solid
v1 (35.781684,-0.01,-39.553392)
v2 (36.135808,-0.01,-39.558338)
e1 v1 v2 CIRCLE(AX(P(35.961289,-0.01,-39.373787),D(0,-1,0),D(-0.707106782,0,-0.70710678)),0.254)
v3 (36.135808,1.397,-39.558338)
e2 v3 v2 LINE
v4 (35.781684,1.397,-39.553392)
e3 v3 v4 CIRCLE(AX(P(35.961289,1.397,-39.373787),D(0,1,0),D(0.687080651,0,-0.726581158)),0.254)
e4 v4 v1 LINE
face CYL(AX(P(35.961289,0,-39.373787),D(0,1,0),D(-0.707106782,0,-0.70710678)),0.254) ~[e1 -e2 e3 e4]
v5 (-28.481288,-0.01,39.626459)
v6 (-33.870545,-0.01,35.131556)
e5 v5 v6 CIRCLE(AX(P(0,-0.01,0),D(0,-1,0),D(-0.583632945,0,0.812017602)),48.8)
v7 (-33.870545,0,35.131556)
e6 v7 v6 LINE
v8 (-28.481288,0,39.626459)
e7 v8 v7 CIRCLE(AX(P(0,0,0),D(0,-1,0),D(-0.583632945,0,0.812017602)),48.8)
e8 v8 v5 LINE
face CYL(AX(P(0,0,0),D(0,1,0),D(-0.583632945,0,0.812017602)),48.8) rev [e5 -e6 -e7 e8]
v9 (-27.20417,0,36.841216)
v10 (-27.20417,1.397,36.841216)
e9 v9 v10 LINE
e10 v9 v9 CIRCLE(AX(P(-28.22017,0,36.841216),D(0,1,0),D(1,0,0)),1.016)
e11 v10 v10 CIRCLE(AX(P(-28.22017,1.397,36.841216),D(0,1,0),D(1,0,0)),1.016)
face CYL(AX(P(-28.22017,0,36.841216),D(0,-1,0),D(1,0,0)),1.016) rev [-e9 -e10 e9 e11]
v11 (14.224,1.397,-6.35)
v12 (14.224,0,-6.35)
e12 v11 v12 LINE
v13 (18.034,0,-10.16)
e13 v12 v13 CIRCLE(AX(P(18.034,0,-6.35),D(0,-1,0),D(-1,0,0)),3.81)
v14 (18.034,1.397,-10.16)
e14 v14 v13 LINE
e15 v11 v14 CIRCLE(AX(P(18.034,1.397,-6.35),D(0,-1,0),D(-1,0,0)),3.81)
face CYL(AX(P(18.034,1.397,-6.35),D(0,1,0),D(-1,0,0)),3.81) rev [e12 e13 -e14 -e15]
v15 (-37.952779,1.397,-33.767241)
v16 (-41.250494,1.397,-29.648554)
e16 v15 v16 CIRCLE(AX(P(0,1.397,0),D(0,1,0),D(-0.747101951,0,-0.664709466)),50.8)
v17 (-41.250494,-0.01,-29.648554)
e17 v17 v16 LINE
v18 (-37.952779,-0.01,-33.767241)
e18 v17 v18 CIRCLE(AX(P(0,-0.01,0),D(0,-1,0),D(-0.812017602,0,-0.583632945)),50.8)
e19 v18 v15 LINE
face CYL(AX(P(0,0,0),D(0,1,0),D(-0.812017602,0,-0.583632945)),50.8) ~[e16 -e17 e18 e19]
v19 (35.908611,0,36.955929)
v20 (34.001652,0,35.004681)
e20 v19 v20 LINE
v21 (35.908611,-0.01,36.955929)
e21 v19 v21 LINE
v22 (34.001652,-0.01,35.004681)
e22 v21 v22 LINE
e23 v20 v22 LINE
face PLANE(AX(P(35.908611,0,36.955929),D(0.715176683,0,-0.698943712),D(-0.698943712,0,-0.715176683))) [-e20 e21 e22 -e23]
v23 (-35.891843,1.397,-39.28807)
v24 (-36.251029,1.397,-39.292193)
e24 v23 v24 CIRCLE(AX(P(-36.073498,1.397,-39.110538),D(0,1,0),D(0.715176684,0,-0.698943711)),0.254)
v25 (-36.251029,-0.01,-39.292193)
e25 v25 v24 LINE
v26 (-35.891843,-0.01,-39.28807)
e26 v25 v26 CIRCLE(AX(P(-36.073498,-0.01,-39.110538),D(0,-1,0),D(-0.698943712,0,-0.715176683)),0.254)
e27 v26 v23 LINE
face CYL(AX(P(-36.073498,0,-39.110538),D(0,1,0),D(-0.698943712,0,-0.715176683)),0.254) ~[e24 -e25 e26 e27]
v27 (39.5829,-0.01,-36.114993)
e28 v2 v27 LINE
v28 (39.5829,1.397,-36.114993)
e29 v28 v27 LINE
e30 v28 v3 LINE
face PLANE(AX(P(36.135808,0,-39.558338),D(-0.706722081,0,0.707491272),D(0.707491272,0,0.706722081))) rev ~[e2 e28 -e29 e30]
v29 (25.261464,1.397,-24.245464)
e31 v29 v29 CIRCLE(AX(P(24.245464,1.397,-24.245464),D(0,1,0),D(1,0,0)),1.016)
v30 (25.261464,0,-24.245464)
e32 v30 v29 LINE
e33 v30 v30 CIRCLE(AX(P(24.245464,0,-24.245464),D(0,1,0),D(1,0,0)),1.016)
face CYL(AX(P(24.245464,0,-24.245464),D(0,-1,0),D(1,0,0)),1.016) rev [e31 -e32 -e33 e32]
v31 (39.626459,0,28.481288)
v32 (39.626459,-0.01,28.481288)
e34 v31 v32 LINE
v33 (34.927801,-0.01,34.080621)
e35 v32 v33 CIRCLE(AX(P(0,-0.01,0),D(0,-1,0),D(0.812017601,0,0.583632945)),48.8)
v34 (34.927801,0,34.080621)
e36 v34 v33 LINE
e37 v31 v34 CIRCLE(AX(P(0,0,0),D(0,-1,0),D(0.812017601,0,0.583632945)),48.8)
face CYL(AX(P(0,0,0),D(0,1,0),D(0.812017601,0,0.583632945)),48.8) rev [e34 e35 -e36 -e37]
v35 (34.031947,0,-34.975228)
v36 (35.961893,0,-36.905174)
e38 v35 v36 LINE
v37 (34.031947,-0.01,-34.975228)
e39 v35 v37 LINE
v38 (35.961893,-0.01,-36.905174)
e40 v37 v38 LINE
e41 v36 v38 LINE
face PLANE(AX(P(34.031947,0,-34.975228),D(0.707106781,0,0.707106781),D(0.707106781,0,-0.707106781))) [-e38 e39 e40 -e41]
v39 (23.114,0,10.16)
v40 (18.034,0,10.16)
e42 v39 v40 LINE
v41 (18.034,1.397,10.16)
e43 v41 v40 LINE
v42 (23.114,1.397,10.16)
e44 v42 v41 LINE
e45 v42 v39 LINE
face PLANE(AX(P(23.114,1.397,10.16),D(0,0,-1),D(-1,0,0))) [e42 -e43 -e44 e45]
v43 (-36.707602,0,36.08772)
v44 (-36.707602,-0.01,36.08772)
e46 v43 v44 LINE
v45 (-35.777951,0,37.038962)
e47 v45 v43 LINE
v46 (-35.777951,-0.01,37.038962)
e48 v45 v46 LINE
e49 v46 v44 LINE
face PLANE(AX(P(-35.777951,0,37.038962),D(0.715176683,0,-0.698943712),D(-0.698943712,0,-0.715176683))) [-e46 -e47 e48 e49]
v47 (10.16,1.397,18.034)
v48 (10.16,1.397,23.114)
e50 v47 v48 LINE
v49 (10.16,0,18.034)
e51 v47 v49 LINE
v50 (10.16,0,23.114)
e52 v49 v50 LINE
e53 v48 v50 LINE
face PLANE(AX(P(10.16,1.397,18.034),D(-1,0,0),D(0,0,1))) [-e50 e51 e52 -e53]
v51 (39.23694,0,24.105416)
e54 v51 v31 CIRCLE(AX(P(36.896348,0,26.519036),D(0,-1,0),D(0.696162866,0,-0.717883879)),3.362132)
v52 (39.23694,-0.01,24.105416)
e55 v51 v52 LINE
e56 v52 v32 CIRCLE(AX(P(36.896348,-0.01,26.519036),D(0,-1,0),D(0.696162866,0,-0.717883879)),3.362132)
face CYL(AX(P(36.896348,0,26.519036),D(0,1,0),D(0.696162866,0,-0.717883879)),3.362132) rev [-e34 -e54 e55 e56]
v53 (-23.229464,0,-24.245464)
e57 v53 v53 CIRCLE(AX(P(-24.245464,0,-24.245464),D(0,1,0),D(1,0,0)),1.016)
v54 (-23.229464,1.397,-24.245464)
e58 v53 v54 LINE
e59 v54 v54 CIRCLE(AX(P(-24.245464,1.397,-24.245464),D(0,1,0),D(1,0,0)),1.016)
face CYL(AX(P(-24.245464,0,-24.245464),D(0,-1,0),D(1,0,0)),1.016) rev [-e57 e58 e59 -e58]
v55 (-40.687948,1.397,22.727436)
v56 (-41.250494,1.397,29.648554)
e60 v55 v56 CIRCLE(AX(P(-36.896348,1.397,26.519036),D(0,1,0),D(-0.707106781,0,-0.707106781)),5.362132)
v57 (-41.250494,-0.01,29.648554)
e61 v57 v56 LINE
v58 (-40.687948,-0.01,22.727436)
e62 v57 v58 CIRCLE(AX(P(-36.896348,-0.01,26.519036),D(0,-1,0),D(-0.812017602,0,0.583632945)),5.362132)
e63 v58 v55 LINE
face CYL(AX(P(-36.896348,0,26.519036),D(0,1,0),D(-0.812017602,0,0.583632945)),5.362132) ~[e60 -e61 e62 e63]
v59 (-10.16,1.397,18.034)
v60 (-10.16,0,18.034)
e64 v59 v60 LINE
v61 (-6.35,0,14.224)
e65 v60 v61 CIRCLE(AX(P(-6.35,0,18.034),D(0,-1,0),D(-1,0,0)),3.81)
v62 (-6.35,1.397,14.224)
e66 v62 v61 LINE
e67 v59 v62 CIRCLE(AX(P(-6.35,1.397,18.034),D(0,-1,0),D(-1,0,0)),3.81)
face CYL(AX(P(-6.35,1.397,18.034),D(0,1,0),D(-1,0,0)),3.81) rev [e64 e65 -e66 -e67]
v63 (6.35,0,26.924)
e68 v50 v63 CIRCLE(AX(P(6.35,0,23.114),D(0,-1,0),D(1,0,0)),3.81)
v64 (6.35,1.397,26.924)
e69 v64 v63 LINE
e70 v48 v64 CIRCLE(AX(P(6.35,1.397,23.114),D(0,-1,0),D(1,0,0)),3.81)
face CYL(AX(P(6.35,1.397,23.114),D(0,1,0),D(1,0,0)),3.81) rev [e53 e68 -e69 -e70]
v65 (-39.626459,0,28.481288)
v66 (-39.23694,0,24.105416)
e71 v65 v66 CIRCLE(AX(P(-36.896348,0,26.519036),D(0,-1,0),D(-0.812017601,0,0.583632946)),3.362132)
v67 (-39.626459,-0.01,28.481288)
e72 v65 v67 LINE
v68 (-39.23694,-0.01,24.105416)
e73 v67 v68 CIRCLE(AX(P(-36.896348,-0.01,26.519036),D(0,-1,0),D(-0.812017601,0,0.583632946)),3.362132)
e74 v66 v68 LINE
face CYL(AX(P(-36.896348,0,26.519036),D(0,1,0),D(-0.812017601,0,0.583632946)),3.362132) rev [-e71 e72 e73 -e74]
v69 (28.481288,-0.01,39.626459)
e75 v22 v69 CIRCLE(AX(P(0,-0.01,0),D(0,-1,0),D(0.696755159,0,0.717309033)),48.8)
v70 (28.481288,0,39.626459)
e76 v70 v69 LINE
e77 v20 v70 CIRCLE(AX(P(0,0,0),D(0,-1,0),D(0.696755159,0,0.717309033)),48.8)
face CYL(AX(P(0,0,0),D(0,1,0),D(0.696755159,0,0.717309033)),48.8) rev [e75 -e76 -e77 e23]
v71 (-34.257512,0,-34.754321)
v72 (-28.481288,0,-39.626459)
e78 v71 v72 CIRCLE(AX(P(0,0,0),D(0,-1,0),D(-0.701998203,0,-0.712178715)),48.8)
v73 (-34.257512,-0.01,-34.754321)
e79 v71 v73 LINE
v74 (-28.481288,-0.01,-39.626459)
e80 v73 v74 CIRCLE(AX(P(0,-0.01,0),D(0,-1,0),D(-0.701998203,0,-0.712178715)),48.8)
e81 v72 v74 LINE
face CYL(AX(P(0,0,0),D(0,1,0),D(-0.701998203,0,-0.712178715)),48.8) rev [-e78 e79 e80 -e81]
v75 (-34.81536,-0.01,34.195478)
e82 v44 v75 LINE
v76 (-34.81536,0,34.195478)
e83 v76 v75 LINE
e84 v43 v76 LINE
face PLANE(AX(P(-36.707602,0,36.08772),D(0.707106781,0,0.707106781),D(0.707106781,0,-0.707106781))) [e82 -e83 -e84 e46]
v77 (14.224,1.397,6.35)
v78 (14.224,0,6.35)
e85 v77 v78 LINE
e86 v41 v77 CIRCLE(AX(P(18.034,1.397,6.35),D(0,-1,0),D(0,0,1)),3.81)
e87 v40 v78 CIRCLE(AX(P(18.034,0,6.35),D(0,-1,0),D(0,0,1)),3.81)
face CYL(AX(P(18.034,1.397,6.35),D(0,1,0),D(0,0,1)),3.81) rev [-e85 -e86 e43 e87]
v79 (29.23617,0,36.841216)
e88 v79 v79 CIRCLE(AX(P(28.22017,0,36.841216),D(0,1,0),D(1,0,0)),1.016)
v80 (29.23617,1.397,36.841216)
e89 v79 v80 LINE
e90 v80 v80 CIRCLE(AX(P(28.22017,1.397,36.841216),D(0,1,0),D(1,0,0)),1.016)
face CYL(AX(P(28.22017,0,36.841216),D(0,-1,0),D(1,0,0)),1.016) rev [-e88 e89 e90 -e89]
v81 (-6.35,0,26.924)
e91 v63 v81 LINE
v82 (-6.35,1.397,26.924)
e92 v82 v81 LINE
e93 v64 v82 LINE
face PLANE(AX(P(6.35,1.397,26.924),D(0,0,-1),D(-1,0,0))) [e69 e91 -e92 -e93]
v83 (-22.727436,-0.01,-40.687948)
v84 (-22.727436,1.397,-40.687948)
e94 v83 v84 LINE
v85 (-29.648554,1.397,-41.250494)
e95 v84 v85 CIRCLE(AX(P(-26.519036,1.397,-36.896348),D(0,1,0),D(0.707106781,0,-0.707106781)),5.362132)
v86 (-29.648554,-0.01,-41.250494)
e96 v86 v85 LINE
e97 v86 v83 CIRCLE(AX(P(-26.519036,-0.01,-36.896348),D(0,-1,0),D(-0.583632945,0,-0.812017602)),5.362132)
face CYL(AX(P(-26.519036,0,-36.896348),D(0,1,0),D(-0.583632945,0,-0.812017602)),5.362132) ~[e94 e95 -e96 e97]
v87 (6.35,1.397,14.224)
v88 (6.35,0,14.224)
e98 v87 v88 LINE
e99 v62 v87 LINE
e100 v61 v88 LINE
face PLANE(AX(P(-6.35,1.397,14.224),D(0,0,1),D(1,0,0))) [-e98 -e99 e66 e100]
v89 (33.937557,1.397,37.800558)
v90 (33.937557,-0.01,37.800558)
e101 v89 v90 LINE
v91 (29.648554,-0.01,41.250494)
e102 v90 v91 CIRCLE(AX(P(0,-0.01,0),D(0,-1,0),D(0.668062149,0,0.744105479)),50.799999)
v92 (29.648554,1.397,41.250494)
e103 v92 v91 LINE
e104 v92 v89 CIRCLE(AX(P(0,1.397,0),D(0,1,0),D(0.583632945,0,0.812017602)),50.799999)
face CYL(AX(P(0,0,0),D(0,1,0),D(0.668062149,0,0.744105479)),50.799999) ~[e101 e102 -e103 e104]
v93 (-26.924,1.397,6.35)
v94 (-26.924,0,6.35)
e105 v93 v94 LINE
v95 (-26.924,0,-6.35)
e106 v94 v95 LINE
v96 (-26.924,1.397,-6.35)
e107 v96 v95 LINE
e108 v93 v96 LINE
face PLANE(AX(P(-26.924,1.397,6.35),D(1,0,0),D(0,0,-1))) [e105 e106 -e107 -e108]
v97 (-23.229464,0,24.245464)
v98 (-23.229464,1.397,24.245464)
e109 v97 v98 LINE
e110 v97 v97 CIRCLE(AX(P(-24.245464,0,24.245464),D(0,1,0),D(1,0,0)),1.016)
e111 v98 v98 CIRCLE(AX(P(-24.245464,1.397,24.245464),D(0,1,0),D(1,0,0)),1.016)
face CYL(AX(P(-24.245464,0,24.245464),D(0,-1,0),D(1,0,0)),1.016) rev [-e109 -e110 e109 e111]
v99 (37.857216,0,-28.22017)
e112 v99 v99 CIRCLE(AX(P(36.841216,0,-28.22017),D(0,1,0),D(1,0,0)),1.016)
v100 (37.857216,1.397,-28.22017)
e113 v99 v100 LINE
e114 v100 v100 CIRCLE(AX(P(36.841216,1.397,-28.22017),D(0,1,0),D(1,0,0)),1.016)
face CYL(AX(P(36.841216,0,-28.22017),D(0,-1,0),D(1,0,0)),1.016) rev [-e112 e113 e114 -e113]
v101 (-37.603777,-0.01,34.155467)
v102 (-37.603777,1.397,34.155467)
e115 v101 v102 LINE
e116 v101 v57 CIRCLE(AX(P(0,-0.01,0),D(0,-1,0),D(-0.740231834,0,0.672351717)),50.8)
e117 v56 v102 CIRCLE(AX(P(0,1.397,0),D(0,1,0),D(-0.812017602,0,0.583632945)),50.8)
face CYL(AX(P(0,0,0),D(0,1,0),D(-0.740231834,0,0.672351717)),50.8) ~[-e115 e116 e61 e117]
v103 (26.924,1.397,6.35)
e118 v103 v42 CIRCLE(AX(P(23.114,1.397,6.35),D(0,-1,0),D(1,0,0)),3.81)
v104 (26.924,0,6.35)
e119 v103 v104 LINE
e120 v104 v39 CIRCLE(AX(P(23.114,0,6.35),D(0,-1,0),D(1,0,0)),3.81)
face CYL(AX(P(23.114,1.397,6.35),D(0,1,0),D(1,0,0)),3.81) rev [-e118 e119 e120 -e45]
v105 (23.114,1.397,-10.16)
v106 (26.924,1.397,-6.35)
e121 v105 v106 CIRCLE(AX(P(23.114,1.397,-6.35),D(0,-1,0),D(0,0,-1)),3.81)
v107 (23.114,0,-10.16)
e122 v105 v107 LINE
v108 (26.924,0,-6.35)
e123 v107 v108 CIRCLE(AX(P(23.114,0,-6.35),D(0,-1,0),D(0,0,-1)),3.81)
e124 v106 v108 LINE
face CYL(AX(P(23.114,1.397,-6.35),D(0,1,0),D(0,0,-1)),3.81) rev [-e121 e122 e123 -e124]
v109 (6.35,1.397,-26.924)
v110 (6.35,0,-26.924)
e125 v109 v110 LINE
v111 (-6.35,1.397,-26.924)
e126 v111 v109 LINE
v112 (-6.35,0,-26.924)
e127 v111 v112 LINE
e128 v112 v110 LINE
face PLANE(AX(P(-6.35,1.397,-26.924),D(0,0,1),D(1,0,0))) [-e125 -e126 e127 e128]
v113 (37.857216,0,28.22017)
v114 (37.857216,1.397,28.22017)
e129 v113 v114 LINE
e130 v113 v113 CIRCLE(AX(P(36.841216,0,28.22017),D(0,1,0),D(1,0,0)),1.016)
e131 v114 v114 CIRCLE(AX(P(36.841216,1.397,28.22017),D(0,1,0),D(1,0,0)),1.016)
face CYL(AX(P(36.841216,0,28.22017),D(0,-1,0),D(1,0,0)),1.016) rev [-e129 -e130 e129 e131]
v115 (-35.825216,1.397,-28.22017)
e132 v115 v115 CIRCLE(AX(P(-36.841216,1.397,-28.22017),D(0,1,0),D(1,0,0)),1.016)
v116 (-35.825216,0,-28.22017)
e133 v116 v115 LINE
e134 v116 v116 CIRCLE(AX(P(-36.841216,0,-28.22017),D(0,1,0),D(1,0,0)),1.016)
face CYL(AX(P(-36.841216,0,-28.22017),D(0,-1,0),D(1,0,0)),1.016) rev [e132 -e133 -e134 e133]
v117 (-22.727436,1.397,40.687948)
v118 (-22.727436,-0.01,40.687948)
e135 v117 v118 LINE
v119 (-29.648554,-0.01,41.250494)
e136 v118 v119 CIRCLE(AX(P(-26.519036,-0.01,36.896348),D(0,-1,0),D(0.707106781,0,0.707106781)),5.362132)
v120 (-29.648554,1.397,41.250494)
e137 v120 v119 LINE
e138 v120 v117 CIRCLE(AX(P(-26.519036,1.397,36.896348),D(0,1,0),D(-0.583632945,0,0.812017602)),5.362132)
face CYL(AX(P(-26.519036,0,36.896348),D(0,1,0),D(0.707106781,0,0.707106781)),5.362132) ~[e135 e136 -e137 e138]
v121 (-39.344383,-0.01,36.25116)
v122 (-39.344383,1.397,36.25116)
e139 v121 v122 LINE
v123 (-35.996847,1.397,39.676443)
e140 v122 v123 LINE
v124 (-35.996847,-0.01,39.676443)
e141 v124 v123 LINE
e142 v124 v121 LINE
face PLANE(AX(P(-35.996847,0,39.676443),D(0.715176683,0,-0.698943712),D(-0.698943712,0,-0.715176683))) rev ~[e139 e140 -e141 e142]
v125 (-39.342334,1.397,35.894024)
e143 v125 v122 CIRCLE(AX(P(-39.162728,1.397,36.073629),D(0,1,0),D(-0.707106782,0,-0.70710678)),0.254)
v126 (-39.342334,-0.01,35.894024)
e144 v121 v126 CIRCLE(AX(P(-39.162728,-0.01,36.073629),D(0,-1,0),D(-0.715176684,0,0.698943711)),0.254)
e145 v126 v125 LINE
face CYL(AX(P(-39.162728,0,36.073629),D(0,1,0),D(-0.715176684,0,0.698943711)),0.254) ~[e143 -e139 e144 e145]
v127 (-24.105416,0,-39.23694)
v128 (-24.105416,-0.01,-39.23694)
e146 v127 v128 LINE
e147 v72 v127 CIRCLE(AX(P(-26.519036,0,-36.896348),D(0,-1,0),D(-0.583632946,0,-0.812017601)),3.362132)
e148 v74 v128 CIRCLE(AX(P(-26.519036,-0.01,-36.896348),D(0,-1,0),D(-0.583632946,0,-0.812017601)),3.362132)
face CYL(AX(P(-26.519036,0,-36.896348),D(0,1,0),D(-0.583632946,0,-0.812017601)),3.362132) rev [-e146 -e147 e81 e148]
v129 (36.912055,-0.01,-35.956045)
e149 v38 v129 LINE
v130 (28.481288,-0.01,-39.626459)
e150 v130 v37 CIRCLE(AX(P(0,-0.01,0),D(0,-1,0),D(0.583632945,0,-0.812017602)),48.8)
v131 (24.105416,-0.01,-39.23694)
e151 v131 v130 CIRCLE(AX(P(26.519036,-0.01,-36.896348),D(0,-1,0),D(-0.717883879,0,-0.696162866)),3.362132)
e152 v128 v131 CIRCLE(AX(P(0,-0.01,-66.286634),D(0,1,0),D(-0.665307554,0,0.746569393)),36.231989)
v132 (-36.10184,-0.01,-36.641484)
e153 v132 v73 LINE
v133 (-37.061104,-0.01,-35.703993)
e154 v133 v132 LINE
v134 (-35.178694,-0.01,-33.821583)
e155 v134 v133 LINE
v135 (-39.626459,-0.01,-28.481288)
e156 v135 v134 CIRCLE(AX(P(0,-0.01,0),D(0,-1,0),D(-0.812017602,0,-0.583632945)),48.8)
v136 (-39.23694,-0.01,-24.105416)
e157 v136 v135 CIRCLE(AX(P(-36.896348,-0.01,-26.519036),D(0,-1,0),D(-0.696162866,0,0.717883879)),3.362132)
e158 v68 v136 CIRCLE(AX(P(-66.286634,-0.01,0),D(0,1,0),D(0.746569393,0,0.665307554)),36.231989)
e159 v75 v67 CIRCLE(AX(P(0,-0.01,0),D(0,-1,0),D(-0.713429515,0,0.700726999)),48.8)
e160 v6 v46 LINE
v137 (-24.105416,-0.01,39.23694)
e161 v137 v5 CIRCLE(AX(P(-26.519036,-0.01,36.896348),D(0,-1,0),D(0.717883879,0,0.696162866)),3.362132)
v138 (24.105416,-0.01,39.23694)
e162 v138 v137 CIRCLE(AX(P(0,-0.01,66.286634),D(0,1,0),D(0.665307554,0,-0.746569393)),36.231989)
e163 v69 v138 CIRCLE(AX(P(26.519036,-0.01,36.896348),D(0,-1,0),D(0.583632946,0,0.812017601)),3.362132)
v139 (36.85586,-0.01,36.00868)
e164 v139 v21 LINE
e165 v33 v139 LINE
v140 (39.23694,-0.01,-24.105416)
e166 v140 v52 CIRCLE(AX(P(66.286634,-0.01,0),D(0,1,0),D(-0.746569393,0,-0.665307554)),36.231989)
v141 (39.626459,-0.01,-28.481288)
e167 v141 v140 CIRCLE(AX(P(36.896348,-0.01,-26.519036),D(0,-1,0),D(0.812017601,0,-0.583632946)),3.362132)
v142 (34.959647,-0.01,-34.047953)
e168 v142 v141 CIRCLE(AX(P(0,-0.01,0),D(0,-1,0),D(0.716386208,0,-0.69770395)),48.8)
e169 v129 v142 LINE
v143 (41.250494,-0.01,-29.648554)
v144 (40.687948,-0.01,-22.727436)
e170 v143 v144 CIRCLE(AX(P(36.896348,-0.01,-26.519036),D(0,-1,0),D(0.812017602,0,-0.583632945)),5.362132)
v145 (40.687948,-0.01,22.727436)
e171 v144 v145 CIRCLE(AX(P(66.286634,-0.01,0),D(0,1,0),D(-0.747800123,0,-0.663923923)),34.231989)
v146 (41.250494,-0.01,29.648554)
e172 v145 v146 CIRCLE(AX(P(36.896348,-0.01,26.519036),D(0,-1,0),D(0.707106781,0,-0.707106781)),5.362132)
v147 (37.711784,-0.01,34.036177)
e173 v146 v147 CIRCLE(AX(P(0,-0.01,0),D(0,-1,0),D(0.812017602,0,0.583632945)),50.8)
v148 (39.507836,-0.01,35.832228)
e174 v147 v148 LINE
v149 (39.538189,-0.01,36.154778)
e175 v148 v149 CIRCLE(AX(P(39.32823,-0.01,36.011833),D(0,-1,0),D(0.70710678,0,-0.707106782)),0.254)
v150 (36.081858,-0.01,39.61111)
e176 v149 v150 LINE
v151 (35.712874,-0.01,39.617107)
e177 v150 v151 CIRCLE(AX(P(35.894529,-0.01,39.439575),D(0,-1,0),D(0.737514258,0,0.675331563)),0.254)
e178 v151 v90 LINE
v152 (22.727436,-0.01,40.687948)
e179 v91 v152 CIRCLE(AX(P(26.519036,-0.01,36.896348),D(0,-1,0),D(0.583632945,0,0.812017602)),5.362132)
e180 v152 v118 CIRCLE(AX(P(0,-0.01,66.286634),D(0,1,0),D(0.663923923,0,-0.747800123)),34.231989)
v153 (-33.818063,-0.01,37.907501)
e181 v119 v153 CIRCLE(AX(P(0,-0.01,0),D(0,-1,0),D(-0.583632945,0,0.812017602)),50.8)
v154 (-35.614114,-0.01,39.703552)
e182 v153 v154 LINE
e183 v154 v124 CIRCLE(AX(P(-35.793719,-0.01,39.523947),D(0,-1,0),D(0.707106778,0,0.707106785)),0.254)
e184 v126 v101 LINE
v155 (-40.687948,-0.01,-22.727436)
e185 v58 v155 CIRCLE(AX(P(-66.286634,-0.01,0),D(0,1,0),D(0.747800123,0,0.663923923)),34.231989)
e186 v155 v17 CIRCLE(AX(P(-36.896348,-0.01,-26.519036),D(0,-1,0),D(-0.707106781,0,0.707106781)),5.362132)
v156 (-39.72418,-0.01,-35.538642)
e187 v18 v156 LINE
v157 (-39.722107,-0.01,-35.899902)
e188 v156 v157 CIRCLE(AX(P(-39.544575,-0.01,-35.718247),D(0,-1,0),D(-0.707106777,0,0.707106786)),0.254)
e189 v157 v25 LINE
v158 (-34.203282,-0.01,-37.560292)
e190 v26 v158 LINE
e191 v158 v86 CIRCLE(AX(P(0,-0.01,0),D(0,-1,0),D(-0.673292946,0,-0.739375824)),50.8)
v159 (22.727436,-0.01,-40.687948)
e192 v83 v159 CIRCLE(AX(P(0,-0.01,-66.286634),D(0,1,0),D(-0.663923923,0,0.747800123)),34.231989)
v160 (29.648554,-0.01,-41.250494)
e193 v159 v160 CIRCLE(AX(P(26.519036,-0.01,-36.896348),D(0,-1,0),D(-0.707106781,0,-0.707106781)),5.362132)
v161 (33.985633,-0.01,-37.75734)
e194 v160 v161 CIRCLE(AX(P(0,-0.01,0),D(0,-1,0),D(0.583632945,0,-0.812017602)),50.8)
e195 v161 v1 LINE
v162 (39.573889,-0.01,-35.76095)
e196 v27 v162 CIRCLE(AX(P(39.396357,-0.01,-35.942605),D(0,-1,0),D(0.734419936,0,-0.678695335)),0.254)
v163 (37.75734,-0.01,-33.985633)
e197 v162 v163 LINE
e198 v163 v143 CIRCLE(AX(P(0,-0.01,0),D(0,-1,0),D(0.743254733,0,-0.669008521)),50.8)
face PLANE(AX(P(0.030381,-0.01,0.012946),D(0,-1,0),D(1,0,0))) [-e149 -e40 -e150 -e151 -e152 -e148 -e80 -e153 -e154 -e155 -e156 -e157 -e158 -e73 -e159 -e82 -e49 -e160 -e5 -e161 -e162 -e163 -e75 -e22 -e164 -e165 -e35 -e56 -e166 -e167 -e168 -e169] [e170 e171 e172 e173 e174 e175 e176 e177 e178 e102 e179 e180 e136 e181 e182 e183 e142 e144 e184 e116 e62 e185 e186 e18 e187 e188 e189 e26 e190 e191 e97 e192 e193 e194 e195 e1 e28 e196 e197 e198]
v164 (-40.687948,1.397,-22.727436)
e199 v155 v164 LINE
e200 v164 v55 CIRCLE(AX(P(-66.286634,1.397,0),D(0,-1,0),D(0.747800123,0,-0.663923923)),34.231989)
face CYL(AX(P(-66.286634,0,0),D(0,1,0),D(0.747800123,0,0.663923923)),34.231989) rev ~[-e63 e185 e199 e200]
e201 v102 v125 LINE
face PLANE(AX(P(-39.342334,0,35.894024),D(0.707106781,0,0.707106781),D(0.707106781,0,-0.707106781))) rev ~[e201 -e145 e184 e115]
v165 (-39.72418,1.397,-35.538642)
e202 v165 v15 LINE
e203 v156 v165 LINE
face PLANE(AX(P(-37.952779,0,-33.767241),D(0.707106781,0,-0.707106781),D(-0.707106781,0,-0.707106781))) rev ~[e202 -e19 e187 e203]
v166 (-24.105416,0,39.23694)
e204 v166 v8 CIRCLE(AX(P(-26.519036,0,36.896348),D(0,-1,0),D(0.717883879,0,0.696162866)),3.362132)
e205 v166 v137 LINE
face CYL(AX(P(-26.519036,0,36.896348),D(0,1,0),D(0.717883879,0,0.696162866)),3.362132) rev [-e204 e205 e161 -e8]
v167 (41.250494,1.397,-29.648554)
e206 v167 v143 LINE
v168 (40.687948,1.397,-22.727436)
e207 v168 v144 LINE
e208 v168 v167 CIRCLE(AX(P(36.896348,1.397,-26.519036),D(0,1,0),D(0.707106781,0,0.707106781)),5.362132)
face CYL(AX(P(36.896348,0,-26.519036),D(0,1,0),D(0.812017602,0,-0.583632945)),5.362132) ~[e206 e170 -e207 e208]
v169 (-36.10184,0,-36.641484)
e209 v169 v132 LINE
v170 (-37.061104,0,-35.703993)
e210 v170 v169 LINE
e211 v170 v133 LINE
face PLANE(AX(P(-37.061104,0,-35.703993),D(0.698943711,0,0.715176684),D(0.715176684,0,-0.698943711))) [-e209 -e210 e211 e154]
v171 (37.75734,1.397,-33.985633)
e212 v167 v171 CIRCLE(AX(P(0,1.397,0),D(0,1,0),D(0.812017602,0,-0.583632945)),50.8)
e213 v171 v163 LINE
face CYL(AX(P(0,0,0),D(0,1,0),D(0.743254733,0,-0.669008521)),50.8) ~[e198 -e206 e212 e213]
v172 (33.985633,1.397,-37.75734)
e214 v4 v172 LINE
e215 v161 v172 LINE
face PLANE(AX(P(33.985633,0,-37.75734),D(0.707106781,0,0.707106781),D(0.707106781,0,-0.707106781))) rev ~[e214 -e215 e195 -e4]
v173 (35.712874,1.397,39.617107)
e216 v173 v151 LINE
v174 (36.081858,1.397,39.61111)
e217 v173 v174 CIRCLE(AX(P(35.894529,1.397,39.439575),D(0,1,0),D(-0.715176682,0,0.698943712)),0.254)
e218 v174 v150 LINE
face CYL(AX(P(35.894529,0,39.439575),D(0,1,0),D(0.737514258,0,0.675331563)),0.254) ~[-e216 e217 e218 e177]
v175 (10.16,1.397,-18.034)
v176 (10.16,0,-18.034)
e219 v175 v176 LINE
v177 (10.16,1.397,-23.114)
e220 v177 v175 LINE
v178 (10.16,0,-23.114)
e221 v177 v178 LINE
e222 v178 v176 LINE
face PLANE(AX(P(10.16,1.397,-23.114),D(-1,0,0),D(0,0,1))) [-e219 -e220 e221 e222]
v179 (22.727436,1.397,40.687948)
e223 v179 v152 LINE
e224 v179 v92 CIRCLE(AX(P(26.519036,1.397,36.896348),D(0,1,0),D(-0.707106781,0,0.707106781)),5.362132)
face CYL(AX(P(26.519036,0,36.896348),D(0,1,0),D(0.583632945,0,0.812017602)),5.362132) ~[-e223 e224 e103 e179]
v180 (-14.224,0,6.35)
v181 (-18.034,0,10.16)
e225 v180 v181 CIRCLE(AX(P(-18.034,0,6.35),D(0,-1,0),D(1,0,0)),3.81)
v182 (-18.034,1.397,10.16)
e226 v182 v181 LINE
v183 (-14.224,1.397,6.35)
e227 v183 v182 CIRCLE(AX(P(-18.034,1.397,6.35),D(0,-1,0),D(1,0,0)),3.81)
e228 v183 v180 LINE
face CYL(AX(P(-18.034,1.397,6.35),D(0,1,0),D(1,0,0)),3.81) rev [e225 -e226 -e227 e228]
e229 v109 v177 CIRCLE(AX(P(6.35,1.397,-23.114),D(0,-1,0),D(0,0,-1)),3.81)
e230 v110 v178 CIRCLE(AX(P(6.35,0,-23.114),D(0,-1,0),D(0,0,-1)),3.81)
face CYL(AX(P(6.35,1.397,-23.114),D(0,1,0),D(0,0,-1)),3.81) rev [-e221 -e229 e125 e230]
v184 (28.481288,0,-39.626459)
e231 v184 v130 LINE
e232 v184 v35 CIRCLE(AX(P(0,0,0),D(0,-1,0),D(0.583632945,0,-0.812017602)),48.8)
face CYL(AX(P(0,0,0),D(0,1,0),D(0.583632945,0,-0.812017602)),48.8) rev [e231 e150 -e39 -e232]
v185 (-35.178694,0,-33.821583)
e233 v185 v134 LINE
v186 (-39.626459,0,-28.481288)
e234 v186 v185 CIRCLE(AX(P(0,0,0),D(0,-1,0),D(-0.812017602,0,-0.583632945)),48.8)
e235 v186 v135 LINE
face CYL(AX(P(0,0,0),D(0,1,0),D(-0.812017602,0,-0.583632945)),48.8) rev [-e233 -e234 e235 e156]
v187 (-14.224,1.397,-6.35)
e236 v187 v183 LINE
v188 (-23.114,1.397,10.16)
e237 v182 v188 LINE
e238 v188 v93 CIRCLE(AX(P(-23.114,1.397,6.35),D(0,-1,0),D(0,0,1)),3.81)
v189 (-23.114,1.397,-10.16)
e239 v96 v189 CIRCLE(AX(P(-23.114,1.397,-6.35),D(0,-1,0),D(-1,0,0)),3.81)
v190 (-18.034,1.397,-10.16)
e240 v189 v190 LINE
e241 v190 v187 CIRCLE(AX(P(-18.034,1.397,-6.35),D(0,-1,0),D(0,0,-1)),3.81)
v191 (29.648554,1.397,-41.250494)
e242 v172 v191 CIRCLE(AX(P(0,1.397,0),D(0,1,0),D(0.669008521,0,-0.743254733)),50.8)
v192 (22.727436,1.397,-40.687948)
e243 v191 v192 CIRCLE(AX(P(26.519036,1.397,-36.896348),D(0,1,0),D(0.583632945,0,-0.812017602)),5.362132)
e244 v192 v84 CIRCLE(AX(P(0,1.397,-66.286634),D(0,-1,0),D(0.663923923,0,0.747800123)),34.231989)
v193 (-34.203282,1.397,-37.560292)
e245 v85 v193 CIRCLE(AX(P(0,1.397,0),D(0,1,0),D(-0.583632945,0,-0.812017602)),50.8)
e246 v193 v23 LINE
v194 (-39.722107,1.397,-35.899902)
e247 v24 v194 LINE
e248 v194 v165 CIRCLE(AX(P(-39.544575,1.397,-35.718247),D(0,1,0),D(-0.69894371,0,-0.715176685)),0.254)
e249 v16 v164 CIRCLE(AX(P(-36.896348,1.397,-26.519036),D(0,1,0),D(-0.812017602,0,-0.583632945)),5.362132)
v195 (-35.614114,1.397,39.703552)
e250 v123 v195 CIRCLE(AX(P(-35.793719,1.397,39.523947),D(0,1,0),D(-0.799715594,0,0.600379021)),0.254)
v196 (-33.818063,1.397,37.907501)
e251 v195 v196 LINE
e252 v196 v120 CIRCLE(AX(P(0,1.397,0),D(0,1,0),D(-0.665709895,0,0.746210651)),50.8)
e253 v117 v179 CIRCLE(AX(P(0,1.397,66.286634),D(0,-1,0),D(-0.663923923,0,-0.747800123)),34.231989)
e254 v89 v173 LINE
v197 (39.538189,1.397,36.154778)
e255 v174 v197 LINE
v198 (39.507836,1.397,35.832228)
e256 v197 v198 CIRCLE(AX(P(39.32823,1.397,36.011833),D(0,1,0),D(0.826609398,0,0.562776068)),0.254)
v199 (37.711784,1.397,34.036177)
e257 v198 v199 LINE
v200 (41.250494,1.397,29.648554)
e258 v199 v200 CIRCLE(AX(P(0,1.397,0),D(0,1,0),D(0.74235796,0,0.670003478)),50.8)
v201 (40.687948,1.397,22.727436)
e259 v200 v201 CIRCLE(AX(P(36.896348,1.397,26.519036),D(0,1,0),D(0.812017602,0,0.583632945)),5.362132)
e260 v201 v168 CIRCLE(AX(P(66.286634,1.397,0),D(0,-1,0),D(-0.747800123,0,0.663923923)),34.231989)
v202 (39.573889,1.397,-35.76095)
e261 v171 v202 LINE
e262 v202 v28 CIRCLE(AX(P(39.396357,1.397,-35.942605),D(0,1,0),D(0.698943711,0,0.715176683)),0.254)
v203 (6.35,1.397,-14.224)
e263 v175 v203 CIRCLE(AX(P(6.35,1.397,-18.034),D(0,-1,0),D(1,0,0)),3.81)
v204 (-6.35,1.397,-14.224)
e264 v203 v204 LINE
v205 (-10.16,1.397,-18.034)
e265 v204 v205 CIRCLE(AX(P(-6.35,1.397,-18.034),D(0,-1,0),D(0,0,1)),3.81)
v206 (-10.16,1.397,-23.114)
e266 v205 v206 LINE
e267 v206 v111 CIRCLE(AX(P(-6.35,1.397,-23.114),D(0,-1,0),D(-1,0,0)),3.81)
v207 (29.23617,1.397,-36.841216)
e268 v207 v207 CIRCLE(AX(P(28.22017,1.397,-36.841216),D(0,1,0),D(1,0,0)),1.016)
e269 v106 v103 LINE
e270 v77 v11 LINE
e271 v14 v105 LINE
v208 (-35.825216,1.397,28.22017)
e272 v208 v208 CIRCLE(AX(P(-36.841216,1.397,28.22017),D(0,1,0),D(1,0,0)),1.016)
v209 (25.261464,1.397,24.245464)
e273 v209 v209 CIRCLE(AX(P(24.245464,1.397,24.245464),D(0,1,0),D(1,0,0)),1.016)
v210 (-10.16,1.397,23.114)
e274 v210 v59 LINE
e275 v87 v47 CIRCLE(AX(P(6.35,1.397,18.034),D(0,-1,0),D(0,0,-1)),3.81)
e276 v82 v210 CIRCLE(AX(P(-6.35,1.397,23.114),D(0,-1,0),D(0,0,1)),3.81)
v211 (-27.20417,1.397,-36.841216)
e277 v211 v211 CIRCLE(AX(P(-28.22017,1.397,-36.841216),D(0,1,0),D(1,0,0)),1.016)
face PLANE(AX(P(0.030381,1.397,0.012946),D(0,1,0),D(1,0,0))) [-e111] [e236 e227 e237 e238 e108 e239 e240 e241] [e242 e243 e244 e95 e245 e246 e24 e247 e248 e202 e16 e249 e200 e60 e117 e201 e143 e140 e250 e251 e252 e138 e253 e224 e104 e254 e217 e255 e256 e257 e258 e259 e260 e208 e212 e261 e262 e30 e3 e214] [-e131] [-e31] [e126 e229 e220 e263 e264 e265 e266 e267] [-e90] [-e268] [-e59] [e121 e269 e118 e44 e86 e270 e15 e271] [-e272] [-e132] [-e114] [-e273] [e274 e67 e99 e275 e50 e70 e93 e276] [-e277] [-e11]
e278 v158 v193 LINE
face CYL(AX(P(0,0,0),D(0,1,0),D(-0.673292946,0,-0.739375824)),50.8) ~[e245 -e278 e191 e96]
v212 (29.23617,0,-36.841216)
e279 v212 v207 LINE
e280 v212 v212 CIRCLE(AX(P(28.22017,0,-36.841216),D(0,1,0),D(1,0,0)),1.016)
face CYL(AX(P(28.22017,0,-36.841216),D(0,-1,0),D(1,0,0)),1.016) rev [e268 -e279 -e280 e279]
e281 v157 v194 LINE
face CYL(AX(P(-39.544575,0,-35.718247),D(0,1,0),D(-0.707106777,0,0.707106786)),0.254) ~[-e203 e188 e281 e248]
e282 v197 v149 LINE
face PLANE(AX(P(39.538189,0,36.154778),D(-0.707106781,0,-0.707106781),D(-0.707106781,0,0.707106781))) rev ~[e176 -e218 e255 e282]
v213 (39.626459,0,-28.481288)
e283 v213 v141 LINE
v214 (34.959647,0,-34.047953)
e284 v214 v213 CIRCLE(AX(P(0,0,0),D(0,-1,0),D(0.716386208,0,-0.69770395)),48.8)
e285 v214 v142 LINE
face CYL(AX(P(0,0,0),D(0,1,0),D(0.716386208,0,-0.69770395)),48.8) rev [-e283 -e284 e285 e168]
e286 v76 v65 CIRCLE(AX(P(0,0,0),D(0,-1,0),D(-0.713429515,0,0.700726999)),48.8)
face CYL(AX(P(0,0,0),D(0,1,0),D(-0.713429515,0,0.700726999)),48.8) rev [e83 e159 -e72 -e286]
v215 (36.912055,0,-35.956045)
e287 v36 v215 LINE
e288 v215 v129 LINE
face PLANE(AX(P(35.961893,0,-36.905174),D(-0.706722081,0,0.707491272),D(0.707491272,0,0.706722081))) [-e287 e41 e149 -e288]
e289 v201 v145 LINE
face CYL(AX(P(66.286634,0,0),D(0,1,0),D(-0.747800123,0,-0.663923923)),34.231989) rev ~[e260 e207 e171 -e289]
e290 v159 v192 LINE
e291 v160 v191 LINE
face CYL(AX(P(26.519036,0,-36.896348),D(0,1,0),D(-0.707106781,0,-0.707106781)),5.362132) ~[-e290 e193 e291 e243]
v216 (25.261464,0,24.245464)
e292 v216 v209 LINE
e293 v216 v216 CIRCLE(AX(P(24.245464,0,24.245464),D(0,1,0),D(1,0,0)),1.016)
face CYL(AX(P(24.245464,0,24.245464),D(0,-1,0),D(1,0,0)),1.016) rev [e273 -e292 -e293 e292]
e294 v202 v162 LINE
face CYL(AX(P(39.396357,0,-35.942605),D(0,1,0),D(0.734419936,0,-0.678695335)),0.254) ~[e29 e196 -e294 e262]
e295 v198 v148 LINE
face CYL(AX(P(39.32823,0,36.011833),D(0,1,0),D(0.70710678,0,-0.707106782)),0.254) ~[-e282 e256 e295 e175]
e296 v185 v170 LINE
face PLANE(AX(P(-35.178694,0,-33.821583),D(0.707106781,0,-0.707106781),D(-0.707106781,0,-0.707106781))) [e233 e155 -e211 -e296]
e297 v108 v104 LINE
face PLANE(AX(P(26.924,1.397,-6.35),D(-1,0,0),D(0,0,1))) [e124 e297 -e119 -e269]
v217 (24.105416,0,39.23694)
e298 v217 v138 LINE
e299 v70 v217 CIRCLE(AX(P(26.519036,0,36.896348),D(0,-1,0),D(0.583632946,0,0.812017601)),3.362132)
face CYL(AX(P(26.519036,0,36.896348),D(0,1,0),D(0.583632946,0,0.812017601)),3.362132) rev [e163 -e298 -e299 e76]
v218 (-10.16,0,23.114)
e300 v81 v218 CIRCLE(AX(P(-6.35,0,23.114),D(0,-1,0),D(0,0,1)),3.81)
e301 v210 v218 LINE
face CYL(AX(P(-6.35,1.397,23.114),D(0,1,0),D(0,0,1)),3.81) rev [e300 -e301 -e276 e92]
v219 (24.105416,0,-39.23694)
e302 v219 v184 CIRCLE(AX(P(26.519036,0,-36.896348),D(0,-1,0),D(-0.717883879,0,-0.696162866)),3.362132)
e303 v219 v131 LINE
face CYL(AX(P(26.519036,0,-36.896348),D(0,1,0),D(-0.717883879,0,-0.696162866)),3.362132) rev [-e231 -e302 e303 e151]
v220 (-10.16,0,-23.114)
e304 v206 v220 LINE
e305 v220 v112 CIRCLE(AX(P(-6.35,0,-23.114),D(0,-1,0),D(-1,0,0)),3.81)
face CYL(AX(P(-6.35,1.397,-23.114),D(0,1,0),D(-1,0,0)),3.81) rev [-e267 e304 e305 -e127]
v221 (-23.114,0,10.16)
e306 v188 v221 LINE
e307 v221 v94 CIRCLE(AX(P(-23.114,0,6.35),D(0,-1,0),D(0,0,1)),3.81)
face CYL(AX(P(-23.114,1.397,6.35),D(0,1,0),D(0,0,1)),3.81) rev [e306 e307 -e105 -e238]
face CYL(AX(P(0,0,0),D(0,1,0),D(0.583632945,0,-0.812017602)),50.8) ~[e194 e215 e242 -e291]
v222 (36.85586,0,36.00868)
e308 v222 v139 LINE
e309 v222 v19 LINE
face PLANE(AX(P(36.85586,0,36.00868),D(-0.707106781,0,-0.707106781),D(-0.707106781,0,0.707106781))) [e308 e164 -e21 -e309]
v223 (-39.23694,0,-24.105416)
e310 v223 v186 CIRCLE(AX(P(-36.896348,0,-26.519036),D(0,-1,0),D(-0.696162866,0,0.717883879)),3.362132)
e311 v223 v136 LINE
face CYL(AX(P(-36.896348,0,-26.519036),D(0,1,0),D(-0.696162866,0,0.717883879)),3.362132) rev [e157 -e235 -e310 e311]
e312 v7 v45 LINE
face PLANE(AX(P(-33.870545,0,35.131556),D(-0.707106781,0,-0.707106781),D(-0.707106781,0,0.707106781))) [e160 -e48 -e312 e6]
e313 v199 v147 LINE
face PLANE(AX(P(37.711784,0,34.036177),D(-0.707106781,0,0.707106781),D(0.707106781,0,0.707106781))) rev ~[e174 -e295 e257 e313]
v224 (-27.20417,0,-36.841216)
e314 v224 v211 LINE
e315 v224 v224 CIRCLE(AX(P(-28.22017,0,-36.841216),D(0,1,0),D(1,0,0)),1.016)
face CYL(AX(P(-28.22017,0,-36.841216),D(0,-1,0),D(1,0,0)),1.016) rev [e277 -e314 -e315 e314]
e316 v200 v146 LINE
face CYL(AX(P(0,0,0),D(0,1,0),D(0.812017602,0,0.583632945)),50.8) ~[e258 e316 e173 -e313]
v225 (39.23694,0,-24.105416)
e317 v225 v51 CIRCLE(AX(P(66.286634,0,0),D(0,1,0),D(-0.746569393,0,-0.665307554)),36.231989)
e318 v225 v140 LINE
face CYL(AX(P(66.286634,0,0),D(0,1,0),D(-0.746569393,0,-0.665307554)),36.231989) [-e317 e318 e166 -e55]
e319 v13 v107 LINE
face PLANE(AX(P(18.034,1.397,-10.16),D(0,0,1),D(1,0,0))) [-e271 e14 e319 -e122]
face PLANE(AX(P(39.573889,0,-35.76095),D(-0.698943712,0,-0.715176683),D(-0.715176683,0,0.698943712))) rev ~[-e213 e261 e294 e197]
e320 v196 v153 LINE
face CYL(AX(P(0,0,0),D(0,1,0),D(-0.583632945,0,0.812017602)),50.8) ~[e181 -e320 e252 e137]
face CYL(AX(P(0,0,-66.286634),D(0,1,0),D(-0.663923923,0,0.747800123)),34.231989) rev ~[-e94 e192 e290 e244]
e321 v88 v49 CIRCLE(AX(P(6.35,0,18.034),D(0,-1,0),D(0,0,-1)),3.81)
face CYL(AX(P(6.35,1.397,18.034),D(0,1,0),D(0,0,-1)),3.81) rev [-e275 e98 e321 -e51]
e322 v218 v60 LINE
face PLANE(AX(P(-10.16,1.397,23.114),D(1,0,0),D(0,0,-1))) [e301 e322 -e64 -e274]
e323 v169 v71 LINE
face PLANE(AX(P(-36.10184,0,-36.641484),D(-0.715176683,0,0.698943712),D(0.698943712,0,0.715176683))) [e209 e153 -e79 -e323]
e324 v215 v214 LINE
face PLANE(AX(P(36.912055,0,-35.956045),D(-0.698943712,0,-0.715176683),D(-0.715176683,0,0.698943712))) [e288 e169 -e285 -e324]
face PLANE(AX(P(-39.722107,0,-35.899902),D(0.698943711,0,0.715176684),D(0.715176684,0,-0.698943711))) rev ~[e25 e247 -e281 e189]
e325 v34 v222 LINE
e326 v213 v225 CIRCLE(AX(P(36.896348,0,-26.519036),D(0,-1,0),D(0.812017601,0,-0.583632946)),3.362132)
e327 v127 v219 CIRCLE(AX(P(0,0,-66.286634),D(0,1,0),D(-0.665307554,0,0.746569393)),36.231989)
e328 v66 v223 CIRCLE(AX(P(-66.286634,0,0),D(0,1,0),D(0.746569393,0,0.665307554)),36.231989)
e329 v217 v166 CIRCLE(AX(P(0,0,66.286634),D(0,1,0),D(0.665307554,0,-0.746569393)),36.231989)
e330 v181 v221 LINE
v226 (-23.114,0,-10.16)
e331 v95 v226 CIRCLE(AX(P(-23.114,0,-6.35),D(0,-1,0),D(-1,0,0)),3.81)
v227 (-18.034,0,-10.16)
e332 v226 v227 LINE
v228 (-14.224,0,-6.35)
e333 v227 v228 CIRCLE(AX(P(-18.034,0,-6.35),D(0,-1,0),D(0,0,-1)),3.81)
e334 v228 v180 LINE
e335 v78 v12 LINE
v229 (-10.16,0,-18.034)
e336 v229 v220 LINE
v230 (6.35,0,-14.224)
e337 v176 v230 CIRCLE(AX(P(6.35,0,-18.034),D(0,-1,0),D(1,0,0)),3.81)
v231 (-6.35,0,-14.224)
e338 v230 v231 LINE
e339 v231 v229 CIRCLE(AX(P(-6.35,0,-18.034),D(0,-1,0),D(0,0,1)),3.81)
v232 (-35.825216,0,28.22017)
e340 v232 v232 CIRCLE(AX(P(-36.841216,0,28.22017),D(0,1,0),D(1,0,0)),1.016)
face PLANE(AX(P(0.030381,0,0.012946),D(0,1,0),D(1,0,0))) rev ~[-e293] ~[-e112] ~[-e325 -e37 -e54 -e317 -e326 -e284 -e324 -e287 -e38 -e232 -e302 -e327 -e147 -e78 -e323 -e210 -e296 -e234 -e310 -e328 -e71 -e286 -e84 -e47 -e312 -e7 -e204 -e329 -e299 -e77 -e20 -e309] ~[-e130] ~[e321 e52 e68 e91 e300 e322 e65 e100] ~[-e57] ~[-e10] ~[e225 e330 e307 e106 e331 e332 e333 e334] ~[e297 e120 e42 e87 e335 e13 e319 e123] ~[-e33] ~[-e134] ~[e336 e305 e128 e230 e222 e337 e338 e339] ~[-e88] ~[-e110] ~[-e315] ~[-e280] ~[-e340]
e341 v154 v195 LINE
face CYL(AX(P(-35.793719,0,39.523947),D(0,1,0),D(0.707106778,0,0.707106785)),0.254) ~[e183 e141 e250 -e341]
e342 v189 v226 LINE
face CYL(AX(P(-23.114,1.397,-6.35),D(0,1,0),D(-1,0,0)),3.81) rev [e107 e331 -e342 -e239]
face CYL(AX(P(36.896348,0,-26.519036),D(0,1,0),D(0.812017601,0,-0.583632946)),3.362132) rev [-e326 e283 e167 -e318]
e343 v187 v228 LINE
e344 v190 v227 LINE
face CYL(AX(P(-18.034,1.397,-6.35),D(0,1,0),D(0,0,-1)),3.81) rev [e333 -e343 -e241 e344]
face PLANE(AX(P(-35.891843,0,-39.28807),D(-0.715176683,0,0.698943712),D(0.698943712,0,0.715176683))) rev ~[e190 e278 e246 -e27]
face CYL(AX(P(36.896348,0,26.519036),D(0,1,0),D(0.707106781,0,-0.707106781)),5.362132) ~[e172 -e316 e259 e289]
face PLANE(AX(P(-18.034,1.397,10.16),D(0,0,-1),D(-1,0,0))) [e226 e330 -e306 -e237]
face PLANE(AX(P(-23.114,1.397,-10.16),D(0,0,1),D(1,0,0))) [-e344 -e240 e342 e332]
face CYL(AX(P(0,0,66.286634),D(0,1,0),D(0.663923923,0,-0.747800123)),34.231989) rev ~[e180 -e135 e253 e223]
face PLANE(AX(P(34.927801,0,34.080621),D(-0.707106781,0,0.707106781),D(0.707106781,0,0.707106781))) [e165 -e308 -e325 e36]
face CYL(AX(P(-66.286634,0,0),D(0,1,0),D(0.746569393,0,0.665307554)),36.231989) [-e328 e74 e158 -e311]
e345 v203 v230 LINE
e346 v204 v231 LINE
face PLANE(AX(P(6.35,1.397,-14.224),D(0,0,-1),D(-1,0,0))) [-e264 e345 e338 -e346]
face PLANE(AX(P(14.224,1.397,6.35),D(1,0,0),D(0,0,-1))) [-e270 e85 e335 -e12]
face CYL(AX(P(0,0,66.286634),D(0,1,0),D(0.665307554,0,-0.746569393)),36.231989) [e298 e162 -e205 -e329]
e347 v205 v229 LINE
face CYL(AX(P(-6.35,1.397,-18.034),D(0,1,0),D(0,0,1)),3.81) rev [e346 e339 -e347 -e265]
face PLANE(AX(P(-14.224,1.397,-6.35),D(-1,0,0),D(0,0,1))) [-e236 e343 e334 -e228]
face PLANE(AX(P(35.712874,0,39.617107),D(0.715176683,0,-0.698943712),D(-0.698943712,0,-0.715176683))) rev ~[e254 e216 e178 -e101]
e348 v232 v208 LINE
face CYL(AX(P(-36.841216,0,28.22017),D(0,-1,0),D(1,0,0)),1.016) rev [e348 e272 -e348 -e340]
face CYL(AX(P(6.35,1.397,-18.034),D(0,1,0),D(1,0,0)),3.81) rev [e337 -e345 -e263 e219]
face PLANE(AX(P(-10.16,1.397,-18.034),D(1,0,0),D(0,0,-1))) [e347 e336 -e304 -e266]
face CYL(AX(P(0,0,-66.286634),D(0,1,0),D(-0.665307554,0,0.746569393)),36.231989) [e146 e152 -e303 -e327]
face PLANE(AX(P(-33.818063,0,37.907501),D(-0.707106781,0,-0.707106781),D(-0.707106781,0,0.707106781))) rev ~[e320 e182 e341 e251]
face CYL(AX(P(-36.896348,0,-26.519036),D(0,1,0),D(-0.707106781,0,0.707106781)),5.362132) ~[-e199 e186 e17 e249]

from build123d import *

# Parameters (mm, degrees)
SKETCH1_R           = 1.015999997
SKETCH1_R_2         = 1.015999998
BOSS_EXTRUDE1_DEPTH = 1.397
CUT_EXTRUDE1_DEPTH  = 1.397
BOSS_EXTRUDE2_DEPTH = 0.01


with BuildPart() as part:
    # Sketch1 → Boss-Extrude1 (new body)
    with BuildSketch(Plane(origin=(0, 0, 0), x_dir=(1, 0, 0), z_dir=(0, 1, 0))):
        with BuildLine():
            Line((39.582900137, 36.114993353), (36.135807663, 39.558338119))
            ThreePointArc((36.135807663, 39.558338119), (35.957741585, 39.627761729), (35.781684056, 39.553391627))
            Line((35.781684056, 39.553391627), (33.985632879, 37.75734045))
            ThreePointArc((33.985632879, 37.75734045), (31.864995739, 39.563392759), (29.648553616, 41.25049416))
            ThreePointArc((29.648553616, 41.25049416), (26.08463695, 42.240855836), (22.7274362, 40.687948442))
            ThreePointArc((22.7274362, 40.687948442), (0, 32.054645119), (-22.7274362, 40.687948442))
            ThreePointArc((-22.7274362, 40.687948442), (-26.08463695, 42.240855836), (-29.648553616, 41.25049416))
            ThreePointArc((-29.648553616, 41.25049416), (-31.979190339, 39.471146237), (-34.203281642, 37.560291864))
            Line((-34.203281642, 37.560291864), (-35.891842785, 39.288069847))
            ThreePointArc((-35.891842785, 39.288069847), (-36.070582137, 39.364521411), (-36.251029365, 39.292193022))
            Line((-36.251029365, 39.292193022), (-39.722106603, 35.899901777))
            ThreePointArc((-39.722106603, 35.899901777), (-39.798570717, 35.719704686), (-39.724180022, 35.538641777))
            Line((-39.724180022, 35.538641777), (-37.952779126, 33.76724088))
            ThreePointArc((-37.952779126, 33.76724088), (-39.65514495, 31.750739818), (-41.25049416, 29.648553616))
            ThreePointArc((-41.25049416, 29.648553616), (-42.240855836, 26.08463695), (-40.687948442, 22.7274362))
            ThreePointArc((-40.687948442, 22.7274362), (-32.054645119, 0), (-40.687948442, -22.7274362))
            ThreePointArc((-40.687948442, -22.7274362), (-42.240855836, -26.08463695), (-41.25049416, -29.648553616))
            ThreePointArc((-41.25049416, -29.648553616), (-39.491481287, -31.954074947), (-37.603777167, -34.155467245))
            Line((-37.603777167, -34.155467245), (-39.342333505, -35.894023583))
            ThreePointArc((-39.342333505, -35.894023583), (-39.416724199, -36.072170919), (-39.34438326, -36.251160408))
            Line((-39.34438326, -36.251160408), (-35.996846779, -39.67644344))
            ThreePointArc((-35.996846779, -39.67644344), (-35.8116648, -39.777312417), (-35.614113895, -39.703552292))
            Line((-35.614113895, -39.703552292), (-33.818062671, -37.907501068))
            ThreePointArc((-33.818062671, -37.907501068), (-31.777299231, -39.633864984), (-29.648553616, -41.25049416))
            ThreePointArc((-29.648553616, -41.25049416), (-26.08463695, -42.240855836), (-22.7274362, -40.687948442))
            ThreePointArc((-22.7274362, -40.687948442), (0, -32.054645119), (22.7274362, -40.687948442))
            ThreePointArc((22.7274362, -40.687948442), (26.08463695, -42.240855836), (29.648553616, -41.25049416))
            ThreePointArc((29.648553616, -41.25049416), (31.839816037, -39.583659694), (33.937557164, -37.800558378))
            Line((33.937557164, -37.800558378), (35.712874192, -39.617107153))
            ThreePointArc((35.712874192, -39.617107153), (35.89865706, -39.693541904), (36.081857691, -39.611109667))
            Line((36.081857691, -39.611109667), (39.53818925, -36.154778109))
            ThreePointArc((39.53818925, -36.154778109), (39.581113192, -35.9880354), (39.507835585, -35.832227866))
            Line((39.507835585, -35.832227866), (37.71178436, -34.036176641))
            ThreePointArc((37.71178436, -34.036176641), (39.542043021, -31.891485286), (41.25049416, -29.648553616))
            ThreePointArc((41.25049416, -29.648553616), (42.240855836, -26.08463695), (40.687948442, -22.7274362))
            ThreePointArc((40.687948442, -22.7274362), (32.054645119, 0), (40.687948442, 22.7274362))
            ThreePointArc((40.687948442, 22.7274362), (42.240855836, 26.08463695), (41.25049416, 29.648553616))
            ThreePointArc((41.25049416, 29.648553616), (39.563392759, 31.864995739), (37.75734045, 33.985632879))
            Line((37.75734045, 33.985632879), (39.573889176, 35.76094986))
            ThreePointArc((39.573889176, 35.76094986), (39.650275245, 35.936142133), (39.582900137, 36.114993353))
        make_face()
        with Locations((-28.220170249, 36.841216125)):
            Circle(SKETCH1_R, mode=Mode.SUBTRACT)
        with Locations((-36.841216125, 28.220170249)):
            Circle(SKETCH1_R, mode=Mode.SUBTRACT)
        with Locations((-24.24546392, 24.24546392)):
            Circle(SKETCH1_R_2, mode=Mode.SUBTRACT)
        with Locations((28.220170249, 36.841216125)):
            Circle(SKETCH1_R, mode=Mode.SUBTRACT)
        with Locations((36.841216125, 28.220170249)):
            Circle(SKETCH1_R, mode=Mode.SUBTRACT)
        with Locations((24.24546392, 24.24546392)):
            Circle(SKETCH1_R_2, mode=Mode.SUBTRACT)
        with Locations((36.841216125, -28.220170249)):
            Circle(SKETCH1_R, mode=Mode.SUBTRACT)
        with Locations((28.220170249, -36.841216125)):
            Circle(SKETCH1_R, mode=Mode.SUBTRACT)
        with Locations((24.24546392, -24.24546392)):
            Circle(SKETCH1_R_2, mode=Mode.SUBTRACT)
        with Locations((-28.220170249, -36.841216125)):
            Circle(SKETCH1_R, mode=Mode.SUBTRACT)
        with Locations((-36.841216125, -28.220170249)):
            Circle(SKETCH1_R, mode=Mode.SUBTRACT)
        with Locations((-24.24546392, -24.24546392)):
            Circle(SKETCH1_R_2, mode=Mode.SUBTRACT)
    extrude(amount=BOSS_EXTRUDE1_DEPTH)

    # Sketch3 → Cut-Extrude1 (cut)
    with BuildSketch(Plane(origin=(0, 1.397, 0), x_dir=(1, 0, 0), z_dir=(0, 1, 0))):
        with BuildLine():
            Line((26.924, 6.35), (26.924, -6.35))
            ThreePointArc((26.924, -6.35), (25.808076836, -9.044076836), (23.114, -10.16))
            Line((23.114, -10.16), (18.034, -10.16))
            ThreePointArc((18.034, -10.16), (15.339923164, -9.044076836), (14.224, -6.35))
            Line((14.224, -6.35), (14.224, 6.35))
            ThreePointArc((14.224, 6.35), (15.339923164, 9.044076836), (18.034, 10.16))
            Line((18.034, 10.16), (23.114, 10.16))
            ThreePointArc((23.114, 10.16), (25.808076836, 9.044076836), (26.924, 6.35))
        make_face()
        with BuildLine():
            Line((-6.35, 26.924), (6.35, 26.924))
            ThreePointArc((6.35, 26.924), (9.044076836, 25.808076836), (10.16, 23.114))
            Line((10.16, 23.114), (10.16, 18.034))
            ThreePointArc((10.16, 18.034), (9.044076836, 15.339923164), (6.35, 14.224))
            Line((6.35, 14.224), (-6.35, 14.224))
            ThreePointArc((-6.35, 14.224), (-9.044076836, 15.339923164), (-10.16, 18.034))
            Line((-10.16, 18.034), (-10.16, 23.114))
            ThreePointArc((-10.16, 23.114), (-9.044076836, 25.808076836), (-6.35, 26.924))
        make_face()
        with BuildLine():
            Line((6.35, -26.924), (-6.35, -26.924))
            ThreePointArc((-6.35, -26.924), (-9.044076836, -25.808076836), (-10.16, -23.114))
            Line((-10.16, -23.114), (-10.16, -18.034))
            ThreePointArc((-10.16, -18.034), (-9.044076836, -15.339923164), (-6.35, -14.224))
            Line((-6.35, -14.224), (6.35, -14.224))
            ThreePointArc((6.35, -14.224), (9.044076836, -15.339923164), (10.16, -18.034))
            Line((10.16, -18.034), (10.16, -23.114))
            ThreePointArc((10.16, -23.114), (9.044076836, -25.808076836), (6.35, -26.924))
        make_face()
        with BuildLine():
            Line((-26.924, -6.35), (-26.924, 6.35))
            ThreePointArc((-26.924, 6.35), (-25.808076836, 9.044076836), (-23.114, 10.16))
            Line((-23.114, 10.16), (-18.034, 10.16))
            ThreePointArc((-18.034, 10.16), (-15.339923164, 9.044076836), (-14.224, 6.35))
            Line((-14.224, 6.35), (-14.224, -6.35))
            ThreePointArc((-14.224, -6.35), (-15.339923164, -9.044076836), (-18.034, -10.16))
            Line((-18.034, -10.16), (-23.114, -10.16))
            ThreePointArc((-23.114, -10.16), (-25.808076836, -9.044076836), (-26.924, -6.35))
        make_face()
    extrude(amount=-CUT_EXTRUDE1_DEPTH, mode=Mode.SUBTRACT)

    # Sketch4 → Boss-Extrude2 (add)
    with BuildSketch(Plane.XZ):
        with BuildLine():
            Line((33.985632879, -37.75734045), (35.781684056, -39.553391627))
            ThreePointArc((35.781684056, -39.553391627), (35.957741585, -39.627761729), (36.135807663, -39.558338119))
            Line((36.135807663, -39.558338119), (39.582900137, -36.114993353))
            ThreePointArc((39.582900137, -36.114993353), (39.650275245, -35.936142133), (39.573889176, -35.76094986))
            Line((39.573889176, -35.76094986), (37.75734045, -33.985632879))
            ThreePointArc((37.75734045, -33.985632879), (39.563392759, -31.864995739), (41.25049416, -29.648553616))
            ThreePointArc((41.25049416, -29.648553616), (42.240855836, -26.08463695), (40.687948442, -22.7274362))
            ThreePointArc((40.687948442, -22.7274362), (32.054645119, 0), (40.687948442, 22.7274362))
            ThreePointArc((40.687948442, 22.7274362), (42.240855836, 26.08463695), (41.25049416, 29.648553616))
            ThreePointArc((41.25049416, 29.648553616), (39.542043021, 31.891485286), (37.71178436, 34.036176641))
            Line((37.71178436, 34.036176641), (39.507835585, 35.832227866))
            ThreePointArc((39.507835585, 35.832227866), (39.581113192, 35.9880354), (39.53818925, 36.154778109))
            Line((39.53818925, 36.154778109), (36.081857691, 39.611109667))
            ThreePointArc((36.081857691, 39.611109667), (35.89865706, 39.693541904), (35.712874192, 39.617107153))
            Line((35.712874192, 39.617107153), (33.937557164, 37.800558378))
            ThreePointArc((33.937557164, 37.800558378), (31.839816037, 39.583659694), (29.648553616, 41.25049416))
            ThreePointArc((29.648553616, 41.25049416), (26.08463695, 42.240855836), (22.7274362, 40.687948442))
            ThreePointArc((22.7274362, 40.687948442), (0, 32.054645119), (-22.7274362, 40.687948442))
            ThreePointArc((-22.7274362, 40.687948442), (-26.08463695, 42.240855836), (-29.648553616, 41.25049416))
            ThreePointArc((-29.648553616, 41.25049416), (-31.777299231, 39.633864984), (-33.818062671, 37.907501068))
            Line((-33.818062671, 37.907501068), (-35.614113895, 39.703552292))
            ThreePointArc((-35.614113895, 39.703552292), (-35.8116648, 39.777312417), (-35.996846779, 39.67644344))
            Line((-35.996846779, 39.67644344), (-39.34438326, 36.251160408))
            ThreePointArc((-39.34438326, 36.251160408), (-39.416724199, 36.072170919), (-39.342333505, 35.894023583))
            Line((-39.342333505, 35.894023583), (-37.603777167, 34.155467245))
            ThreePointArc((-37.603777167, 34.155467245), (-39.491481287, 31.954074947), (-41.25049416, 29.648553616))
            ThreePointArc((-41.25049416, 29.648553616), (-42.240855836, 26.08463695), (-40.687948442, 22.7274362))
            ThreePointArc((-40.687948442, 22.7274362), (-32.054645119, 0), (-40.687948442, -22.7274362))
            ThreePointArc((-40.687948442, -22.7274362), (-42.240855836, -26.08463695), (-41.25049416, -29.648553616))
            ThreePointArc((-41.25049416, -29.648553616), (-39.65514495, -31.750739818), (-37.952779126, -33.76724088))
            Line((-37.952779126, -33.76724088), (-39.724180022, -35.538641777))
            ThreePointArc((-39.724180022, -35.538641777), (-39.798570717, -35.719704686), (-39.722106603, -35.899901777))
            Line((-39.722106603, -35.899901777), (-36.251029365, -39.292193022))
            ThreePointArc((-36.251029365, -39.292193022), (-36.070582137, -39.364521411), (-35.891842785, -39.288069847))
            Line((-35.891842785, -39.288069847), (-34.203281642, -37.560291864))
            ThreePointArc((-34.203281642, -37.560291864), (-31.979190339, -39.471146237), (-29.648553616, -41.25049416))
            ThreePointArc((-29.648553616, -41.25049416), (-26.08463695, -42.240855836), (-22.7274362, -40.687948442))
            ThreePointArc((-22.7274362, -40.687948442), (0, -32.054645119), (22.7274362, -40.687948442))
            ThreePointArc((22.7274362, -40.687948442), (26.08463695, -42.240855836), (29.648553616, -41.25049416))
            ThreePointArc((29.648553616, -41.25049416), (31.864995739, -39.563392759), (33.985632879, -37.75734045))
        make_face()
        with BuildLine():
            Line((34.031947351, -34.975227797), (35.961893128, -36.905173574))
            Line((35.961893128, -36.905173574), (36.912054688, -35.956045038))
            Line((36.912054688, -35.956045038), (34.959646939, -34.047952742))
            ThreePointArc((34.959646939, -34.047952742), (37.396774434, -31.351575111), (39.626458957, -28.481287726))
            ThreePointArc((39.626458957, -28.481287726), (40.245239062, -26.220934367), (39.236939987, -24.105415731))
            ThreePointArc((39.236939987, -24.105415731), (30.054645119, 0), (39.236939987, 24.105415731))
            ThreePointArc((39.236939987, 24.105415731), (40.245239062, 26.220934367), (39.626458957, 28.481287726))
            ThreePointArc((39.626458957, 28.481287726), (37.382115507, 31.369052268), (34.927801218, 34.080620624))
            Line((34.927801218, 34.080620624), (36.855860414, 36.00867982))
            Line((36.855860414, 36.00867982), (35.908611019, 36.955929215))
            Line((35.908611019, 36.955929215), (34.001651749, 35.004680806))
            ThreePointArc((34.001651749, 35.004680806), (31.326819814, 37.417514086), (28.481287726, 39.626458957))
            ThreePointArc((28.481287726, 39.626458957), (26.220934367, 40.245239062), (24.105415731, 39.236939987))
            ThreePointArc((24.105415731, 39.236939987), (0, 30.054645119), (-24.105415731, 39.236939987))
            ThreePointArc((-24.105415731, 39.236939987), (-26.220934367, 40.245239062), (-28.481287726, 39.626458957))
            ThreePointArc((-28.481287726, 39.626458957), (-31.256819816, 37.476008525), (-33.870544531, 35.131555803))
            Line((-33.870544531, 35.131555803), (-35.777951024, 37.038962296))
            Line((-35.777951024, 37.038962296), (-36.707602479, 36.087719682))
            Line((-36.707602479, 36.087719682), (-34.81536034, 34.195477543))
            ThreePointArc((-34.81536034, 34.195477543), (-37.330404584, 31.430572594), (-39.626458957, 28.481287726))
            ThreePointArc((-39.626458957, 28.481287726), (-40.245239062, 26.220934367), (-39.236939987, 24.105415731))
            ThreePointArc((-39.236939987, 24.105415731), (-30.054645119, 0), (-39.236939987, -24.105415731))
            ThreePointArc((-39.236939987, -24.105415731), (-40.245239062, -26.220934367), (-39.626458957, -28.481287726))
            ThreePointArc((-39.626458957, -28.481287726), (-37.497765548, -31.230715312), (-35.178694145, -33.821583024))
            Line((-35.178694145, -33.821583024), (-37.06110436, -35.703993239))
            Line((-37.06110436, -35.703993239), (-36.101840432, -36.641483938))
            Line((-36.101840432, -36.641483938), (-34.257512326, -34.754321303))
            ThreePointArc((-34.257512326, -34.754321303), (-31.463847338, -37.302363339), (-28.481287726, -39.626458957))
            ThreePointArc((-28.481287726, -39.626458957), (-26.220934367, -40.245239062), (-24.105415731, -39.236939987))
            ThreePointArc((-24.105415731, -39.236939987), (0, -30.054645119), (24.105415731, -39.236939987))
            ThreePointArc((24.105415731, -39.236939987), (26.220934367, -40.245239062), (28.481287726, -39.626458957))
            ThreePointArc((28.481287726, -39.626458957), (31.343015614, -37.403948618), (34.031947351, -34.975227797))
        make_face(mode=Mode.SUBTRACT)
    extrude(amount=BOSS_EXTRUDE2_DEPTH)


solid = part.part
